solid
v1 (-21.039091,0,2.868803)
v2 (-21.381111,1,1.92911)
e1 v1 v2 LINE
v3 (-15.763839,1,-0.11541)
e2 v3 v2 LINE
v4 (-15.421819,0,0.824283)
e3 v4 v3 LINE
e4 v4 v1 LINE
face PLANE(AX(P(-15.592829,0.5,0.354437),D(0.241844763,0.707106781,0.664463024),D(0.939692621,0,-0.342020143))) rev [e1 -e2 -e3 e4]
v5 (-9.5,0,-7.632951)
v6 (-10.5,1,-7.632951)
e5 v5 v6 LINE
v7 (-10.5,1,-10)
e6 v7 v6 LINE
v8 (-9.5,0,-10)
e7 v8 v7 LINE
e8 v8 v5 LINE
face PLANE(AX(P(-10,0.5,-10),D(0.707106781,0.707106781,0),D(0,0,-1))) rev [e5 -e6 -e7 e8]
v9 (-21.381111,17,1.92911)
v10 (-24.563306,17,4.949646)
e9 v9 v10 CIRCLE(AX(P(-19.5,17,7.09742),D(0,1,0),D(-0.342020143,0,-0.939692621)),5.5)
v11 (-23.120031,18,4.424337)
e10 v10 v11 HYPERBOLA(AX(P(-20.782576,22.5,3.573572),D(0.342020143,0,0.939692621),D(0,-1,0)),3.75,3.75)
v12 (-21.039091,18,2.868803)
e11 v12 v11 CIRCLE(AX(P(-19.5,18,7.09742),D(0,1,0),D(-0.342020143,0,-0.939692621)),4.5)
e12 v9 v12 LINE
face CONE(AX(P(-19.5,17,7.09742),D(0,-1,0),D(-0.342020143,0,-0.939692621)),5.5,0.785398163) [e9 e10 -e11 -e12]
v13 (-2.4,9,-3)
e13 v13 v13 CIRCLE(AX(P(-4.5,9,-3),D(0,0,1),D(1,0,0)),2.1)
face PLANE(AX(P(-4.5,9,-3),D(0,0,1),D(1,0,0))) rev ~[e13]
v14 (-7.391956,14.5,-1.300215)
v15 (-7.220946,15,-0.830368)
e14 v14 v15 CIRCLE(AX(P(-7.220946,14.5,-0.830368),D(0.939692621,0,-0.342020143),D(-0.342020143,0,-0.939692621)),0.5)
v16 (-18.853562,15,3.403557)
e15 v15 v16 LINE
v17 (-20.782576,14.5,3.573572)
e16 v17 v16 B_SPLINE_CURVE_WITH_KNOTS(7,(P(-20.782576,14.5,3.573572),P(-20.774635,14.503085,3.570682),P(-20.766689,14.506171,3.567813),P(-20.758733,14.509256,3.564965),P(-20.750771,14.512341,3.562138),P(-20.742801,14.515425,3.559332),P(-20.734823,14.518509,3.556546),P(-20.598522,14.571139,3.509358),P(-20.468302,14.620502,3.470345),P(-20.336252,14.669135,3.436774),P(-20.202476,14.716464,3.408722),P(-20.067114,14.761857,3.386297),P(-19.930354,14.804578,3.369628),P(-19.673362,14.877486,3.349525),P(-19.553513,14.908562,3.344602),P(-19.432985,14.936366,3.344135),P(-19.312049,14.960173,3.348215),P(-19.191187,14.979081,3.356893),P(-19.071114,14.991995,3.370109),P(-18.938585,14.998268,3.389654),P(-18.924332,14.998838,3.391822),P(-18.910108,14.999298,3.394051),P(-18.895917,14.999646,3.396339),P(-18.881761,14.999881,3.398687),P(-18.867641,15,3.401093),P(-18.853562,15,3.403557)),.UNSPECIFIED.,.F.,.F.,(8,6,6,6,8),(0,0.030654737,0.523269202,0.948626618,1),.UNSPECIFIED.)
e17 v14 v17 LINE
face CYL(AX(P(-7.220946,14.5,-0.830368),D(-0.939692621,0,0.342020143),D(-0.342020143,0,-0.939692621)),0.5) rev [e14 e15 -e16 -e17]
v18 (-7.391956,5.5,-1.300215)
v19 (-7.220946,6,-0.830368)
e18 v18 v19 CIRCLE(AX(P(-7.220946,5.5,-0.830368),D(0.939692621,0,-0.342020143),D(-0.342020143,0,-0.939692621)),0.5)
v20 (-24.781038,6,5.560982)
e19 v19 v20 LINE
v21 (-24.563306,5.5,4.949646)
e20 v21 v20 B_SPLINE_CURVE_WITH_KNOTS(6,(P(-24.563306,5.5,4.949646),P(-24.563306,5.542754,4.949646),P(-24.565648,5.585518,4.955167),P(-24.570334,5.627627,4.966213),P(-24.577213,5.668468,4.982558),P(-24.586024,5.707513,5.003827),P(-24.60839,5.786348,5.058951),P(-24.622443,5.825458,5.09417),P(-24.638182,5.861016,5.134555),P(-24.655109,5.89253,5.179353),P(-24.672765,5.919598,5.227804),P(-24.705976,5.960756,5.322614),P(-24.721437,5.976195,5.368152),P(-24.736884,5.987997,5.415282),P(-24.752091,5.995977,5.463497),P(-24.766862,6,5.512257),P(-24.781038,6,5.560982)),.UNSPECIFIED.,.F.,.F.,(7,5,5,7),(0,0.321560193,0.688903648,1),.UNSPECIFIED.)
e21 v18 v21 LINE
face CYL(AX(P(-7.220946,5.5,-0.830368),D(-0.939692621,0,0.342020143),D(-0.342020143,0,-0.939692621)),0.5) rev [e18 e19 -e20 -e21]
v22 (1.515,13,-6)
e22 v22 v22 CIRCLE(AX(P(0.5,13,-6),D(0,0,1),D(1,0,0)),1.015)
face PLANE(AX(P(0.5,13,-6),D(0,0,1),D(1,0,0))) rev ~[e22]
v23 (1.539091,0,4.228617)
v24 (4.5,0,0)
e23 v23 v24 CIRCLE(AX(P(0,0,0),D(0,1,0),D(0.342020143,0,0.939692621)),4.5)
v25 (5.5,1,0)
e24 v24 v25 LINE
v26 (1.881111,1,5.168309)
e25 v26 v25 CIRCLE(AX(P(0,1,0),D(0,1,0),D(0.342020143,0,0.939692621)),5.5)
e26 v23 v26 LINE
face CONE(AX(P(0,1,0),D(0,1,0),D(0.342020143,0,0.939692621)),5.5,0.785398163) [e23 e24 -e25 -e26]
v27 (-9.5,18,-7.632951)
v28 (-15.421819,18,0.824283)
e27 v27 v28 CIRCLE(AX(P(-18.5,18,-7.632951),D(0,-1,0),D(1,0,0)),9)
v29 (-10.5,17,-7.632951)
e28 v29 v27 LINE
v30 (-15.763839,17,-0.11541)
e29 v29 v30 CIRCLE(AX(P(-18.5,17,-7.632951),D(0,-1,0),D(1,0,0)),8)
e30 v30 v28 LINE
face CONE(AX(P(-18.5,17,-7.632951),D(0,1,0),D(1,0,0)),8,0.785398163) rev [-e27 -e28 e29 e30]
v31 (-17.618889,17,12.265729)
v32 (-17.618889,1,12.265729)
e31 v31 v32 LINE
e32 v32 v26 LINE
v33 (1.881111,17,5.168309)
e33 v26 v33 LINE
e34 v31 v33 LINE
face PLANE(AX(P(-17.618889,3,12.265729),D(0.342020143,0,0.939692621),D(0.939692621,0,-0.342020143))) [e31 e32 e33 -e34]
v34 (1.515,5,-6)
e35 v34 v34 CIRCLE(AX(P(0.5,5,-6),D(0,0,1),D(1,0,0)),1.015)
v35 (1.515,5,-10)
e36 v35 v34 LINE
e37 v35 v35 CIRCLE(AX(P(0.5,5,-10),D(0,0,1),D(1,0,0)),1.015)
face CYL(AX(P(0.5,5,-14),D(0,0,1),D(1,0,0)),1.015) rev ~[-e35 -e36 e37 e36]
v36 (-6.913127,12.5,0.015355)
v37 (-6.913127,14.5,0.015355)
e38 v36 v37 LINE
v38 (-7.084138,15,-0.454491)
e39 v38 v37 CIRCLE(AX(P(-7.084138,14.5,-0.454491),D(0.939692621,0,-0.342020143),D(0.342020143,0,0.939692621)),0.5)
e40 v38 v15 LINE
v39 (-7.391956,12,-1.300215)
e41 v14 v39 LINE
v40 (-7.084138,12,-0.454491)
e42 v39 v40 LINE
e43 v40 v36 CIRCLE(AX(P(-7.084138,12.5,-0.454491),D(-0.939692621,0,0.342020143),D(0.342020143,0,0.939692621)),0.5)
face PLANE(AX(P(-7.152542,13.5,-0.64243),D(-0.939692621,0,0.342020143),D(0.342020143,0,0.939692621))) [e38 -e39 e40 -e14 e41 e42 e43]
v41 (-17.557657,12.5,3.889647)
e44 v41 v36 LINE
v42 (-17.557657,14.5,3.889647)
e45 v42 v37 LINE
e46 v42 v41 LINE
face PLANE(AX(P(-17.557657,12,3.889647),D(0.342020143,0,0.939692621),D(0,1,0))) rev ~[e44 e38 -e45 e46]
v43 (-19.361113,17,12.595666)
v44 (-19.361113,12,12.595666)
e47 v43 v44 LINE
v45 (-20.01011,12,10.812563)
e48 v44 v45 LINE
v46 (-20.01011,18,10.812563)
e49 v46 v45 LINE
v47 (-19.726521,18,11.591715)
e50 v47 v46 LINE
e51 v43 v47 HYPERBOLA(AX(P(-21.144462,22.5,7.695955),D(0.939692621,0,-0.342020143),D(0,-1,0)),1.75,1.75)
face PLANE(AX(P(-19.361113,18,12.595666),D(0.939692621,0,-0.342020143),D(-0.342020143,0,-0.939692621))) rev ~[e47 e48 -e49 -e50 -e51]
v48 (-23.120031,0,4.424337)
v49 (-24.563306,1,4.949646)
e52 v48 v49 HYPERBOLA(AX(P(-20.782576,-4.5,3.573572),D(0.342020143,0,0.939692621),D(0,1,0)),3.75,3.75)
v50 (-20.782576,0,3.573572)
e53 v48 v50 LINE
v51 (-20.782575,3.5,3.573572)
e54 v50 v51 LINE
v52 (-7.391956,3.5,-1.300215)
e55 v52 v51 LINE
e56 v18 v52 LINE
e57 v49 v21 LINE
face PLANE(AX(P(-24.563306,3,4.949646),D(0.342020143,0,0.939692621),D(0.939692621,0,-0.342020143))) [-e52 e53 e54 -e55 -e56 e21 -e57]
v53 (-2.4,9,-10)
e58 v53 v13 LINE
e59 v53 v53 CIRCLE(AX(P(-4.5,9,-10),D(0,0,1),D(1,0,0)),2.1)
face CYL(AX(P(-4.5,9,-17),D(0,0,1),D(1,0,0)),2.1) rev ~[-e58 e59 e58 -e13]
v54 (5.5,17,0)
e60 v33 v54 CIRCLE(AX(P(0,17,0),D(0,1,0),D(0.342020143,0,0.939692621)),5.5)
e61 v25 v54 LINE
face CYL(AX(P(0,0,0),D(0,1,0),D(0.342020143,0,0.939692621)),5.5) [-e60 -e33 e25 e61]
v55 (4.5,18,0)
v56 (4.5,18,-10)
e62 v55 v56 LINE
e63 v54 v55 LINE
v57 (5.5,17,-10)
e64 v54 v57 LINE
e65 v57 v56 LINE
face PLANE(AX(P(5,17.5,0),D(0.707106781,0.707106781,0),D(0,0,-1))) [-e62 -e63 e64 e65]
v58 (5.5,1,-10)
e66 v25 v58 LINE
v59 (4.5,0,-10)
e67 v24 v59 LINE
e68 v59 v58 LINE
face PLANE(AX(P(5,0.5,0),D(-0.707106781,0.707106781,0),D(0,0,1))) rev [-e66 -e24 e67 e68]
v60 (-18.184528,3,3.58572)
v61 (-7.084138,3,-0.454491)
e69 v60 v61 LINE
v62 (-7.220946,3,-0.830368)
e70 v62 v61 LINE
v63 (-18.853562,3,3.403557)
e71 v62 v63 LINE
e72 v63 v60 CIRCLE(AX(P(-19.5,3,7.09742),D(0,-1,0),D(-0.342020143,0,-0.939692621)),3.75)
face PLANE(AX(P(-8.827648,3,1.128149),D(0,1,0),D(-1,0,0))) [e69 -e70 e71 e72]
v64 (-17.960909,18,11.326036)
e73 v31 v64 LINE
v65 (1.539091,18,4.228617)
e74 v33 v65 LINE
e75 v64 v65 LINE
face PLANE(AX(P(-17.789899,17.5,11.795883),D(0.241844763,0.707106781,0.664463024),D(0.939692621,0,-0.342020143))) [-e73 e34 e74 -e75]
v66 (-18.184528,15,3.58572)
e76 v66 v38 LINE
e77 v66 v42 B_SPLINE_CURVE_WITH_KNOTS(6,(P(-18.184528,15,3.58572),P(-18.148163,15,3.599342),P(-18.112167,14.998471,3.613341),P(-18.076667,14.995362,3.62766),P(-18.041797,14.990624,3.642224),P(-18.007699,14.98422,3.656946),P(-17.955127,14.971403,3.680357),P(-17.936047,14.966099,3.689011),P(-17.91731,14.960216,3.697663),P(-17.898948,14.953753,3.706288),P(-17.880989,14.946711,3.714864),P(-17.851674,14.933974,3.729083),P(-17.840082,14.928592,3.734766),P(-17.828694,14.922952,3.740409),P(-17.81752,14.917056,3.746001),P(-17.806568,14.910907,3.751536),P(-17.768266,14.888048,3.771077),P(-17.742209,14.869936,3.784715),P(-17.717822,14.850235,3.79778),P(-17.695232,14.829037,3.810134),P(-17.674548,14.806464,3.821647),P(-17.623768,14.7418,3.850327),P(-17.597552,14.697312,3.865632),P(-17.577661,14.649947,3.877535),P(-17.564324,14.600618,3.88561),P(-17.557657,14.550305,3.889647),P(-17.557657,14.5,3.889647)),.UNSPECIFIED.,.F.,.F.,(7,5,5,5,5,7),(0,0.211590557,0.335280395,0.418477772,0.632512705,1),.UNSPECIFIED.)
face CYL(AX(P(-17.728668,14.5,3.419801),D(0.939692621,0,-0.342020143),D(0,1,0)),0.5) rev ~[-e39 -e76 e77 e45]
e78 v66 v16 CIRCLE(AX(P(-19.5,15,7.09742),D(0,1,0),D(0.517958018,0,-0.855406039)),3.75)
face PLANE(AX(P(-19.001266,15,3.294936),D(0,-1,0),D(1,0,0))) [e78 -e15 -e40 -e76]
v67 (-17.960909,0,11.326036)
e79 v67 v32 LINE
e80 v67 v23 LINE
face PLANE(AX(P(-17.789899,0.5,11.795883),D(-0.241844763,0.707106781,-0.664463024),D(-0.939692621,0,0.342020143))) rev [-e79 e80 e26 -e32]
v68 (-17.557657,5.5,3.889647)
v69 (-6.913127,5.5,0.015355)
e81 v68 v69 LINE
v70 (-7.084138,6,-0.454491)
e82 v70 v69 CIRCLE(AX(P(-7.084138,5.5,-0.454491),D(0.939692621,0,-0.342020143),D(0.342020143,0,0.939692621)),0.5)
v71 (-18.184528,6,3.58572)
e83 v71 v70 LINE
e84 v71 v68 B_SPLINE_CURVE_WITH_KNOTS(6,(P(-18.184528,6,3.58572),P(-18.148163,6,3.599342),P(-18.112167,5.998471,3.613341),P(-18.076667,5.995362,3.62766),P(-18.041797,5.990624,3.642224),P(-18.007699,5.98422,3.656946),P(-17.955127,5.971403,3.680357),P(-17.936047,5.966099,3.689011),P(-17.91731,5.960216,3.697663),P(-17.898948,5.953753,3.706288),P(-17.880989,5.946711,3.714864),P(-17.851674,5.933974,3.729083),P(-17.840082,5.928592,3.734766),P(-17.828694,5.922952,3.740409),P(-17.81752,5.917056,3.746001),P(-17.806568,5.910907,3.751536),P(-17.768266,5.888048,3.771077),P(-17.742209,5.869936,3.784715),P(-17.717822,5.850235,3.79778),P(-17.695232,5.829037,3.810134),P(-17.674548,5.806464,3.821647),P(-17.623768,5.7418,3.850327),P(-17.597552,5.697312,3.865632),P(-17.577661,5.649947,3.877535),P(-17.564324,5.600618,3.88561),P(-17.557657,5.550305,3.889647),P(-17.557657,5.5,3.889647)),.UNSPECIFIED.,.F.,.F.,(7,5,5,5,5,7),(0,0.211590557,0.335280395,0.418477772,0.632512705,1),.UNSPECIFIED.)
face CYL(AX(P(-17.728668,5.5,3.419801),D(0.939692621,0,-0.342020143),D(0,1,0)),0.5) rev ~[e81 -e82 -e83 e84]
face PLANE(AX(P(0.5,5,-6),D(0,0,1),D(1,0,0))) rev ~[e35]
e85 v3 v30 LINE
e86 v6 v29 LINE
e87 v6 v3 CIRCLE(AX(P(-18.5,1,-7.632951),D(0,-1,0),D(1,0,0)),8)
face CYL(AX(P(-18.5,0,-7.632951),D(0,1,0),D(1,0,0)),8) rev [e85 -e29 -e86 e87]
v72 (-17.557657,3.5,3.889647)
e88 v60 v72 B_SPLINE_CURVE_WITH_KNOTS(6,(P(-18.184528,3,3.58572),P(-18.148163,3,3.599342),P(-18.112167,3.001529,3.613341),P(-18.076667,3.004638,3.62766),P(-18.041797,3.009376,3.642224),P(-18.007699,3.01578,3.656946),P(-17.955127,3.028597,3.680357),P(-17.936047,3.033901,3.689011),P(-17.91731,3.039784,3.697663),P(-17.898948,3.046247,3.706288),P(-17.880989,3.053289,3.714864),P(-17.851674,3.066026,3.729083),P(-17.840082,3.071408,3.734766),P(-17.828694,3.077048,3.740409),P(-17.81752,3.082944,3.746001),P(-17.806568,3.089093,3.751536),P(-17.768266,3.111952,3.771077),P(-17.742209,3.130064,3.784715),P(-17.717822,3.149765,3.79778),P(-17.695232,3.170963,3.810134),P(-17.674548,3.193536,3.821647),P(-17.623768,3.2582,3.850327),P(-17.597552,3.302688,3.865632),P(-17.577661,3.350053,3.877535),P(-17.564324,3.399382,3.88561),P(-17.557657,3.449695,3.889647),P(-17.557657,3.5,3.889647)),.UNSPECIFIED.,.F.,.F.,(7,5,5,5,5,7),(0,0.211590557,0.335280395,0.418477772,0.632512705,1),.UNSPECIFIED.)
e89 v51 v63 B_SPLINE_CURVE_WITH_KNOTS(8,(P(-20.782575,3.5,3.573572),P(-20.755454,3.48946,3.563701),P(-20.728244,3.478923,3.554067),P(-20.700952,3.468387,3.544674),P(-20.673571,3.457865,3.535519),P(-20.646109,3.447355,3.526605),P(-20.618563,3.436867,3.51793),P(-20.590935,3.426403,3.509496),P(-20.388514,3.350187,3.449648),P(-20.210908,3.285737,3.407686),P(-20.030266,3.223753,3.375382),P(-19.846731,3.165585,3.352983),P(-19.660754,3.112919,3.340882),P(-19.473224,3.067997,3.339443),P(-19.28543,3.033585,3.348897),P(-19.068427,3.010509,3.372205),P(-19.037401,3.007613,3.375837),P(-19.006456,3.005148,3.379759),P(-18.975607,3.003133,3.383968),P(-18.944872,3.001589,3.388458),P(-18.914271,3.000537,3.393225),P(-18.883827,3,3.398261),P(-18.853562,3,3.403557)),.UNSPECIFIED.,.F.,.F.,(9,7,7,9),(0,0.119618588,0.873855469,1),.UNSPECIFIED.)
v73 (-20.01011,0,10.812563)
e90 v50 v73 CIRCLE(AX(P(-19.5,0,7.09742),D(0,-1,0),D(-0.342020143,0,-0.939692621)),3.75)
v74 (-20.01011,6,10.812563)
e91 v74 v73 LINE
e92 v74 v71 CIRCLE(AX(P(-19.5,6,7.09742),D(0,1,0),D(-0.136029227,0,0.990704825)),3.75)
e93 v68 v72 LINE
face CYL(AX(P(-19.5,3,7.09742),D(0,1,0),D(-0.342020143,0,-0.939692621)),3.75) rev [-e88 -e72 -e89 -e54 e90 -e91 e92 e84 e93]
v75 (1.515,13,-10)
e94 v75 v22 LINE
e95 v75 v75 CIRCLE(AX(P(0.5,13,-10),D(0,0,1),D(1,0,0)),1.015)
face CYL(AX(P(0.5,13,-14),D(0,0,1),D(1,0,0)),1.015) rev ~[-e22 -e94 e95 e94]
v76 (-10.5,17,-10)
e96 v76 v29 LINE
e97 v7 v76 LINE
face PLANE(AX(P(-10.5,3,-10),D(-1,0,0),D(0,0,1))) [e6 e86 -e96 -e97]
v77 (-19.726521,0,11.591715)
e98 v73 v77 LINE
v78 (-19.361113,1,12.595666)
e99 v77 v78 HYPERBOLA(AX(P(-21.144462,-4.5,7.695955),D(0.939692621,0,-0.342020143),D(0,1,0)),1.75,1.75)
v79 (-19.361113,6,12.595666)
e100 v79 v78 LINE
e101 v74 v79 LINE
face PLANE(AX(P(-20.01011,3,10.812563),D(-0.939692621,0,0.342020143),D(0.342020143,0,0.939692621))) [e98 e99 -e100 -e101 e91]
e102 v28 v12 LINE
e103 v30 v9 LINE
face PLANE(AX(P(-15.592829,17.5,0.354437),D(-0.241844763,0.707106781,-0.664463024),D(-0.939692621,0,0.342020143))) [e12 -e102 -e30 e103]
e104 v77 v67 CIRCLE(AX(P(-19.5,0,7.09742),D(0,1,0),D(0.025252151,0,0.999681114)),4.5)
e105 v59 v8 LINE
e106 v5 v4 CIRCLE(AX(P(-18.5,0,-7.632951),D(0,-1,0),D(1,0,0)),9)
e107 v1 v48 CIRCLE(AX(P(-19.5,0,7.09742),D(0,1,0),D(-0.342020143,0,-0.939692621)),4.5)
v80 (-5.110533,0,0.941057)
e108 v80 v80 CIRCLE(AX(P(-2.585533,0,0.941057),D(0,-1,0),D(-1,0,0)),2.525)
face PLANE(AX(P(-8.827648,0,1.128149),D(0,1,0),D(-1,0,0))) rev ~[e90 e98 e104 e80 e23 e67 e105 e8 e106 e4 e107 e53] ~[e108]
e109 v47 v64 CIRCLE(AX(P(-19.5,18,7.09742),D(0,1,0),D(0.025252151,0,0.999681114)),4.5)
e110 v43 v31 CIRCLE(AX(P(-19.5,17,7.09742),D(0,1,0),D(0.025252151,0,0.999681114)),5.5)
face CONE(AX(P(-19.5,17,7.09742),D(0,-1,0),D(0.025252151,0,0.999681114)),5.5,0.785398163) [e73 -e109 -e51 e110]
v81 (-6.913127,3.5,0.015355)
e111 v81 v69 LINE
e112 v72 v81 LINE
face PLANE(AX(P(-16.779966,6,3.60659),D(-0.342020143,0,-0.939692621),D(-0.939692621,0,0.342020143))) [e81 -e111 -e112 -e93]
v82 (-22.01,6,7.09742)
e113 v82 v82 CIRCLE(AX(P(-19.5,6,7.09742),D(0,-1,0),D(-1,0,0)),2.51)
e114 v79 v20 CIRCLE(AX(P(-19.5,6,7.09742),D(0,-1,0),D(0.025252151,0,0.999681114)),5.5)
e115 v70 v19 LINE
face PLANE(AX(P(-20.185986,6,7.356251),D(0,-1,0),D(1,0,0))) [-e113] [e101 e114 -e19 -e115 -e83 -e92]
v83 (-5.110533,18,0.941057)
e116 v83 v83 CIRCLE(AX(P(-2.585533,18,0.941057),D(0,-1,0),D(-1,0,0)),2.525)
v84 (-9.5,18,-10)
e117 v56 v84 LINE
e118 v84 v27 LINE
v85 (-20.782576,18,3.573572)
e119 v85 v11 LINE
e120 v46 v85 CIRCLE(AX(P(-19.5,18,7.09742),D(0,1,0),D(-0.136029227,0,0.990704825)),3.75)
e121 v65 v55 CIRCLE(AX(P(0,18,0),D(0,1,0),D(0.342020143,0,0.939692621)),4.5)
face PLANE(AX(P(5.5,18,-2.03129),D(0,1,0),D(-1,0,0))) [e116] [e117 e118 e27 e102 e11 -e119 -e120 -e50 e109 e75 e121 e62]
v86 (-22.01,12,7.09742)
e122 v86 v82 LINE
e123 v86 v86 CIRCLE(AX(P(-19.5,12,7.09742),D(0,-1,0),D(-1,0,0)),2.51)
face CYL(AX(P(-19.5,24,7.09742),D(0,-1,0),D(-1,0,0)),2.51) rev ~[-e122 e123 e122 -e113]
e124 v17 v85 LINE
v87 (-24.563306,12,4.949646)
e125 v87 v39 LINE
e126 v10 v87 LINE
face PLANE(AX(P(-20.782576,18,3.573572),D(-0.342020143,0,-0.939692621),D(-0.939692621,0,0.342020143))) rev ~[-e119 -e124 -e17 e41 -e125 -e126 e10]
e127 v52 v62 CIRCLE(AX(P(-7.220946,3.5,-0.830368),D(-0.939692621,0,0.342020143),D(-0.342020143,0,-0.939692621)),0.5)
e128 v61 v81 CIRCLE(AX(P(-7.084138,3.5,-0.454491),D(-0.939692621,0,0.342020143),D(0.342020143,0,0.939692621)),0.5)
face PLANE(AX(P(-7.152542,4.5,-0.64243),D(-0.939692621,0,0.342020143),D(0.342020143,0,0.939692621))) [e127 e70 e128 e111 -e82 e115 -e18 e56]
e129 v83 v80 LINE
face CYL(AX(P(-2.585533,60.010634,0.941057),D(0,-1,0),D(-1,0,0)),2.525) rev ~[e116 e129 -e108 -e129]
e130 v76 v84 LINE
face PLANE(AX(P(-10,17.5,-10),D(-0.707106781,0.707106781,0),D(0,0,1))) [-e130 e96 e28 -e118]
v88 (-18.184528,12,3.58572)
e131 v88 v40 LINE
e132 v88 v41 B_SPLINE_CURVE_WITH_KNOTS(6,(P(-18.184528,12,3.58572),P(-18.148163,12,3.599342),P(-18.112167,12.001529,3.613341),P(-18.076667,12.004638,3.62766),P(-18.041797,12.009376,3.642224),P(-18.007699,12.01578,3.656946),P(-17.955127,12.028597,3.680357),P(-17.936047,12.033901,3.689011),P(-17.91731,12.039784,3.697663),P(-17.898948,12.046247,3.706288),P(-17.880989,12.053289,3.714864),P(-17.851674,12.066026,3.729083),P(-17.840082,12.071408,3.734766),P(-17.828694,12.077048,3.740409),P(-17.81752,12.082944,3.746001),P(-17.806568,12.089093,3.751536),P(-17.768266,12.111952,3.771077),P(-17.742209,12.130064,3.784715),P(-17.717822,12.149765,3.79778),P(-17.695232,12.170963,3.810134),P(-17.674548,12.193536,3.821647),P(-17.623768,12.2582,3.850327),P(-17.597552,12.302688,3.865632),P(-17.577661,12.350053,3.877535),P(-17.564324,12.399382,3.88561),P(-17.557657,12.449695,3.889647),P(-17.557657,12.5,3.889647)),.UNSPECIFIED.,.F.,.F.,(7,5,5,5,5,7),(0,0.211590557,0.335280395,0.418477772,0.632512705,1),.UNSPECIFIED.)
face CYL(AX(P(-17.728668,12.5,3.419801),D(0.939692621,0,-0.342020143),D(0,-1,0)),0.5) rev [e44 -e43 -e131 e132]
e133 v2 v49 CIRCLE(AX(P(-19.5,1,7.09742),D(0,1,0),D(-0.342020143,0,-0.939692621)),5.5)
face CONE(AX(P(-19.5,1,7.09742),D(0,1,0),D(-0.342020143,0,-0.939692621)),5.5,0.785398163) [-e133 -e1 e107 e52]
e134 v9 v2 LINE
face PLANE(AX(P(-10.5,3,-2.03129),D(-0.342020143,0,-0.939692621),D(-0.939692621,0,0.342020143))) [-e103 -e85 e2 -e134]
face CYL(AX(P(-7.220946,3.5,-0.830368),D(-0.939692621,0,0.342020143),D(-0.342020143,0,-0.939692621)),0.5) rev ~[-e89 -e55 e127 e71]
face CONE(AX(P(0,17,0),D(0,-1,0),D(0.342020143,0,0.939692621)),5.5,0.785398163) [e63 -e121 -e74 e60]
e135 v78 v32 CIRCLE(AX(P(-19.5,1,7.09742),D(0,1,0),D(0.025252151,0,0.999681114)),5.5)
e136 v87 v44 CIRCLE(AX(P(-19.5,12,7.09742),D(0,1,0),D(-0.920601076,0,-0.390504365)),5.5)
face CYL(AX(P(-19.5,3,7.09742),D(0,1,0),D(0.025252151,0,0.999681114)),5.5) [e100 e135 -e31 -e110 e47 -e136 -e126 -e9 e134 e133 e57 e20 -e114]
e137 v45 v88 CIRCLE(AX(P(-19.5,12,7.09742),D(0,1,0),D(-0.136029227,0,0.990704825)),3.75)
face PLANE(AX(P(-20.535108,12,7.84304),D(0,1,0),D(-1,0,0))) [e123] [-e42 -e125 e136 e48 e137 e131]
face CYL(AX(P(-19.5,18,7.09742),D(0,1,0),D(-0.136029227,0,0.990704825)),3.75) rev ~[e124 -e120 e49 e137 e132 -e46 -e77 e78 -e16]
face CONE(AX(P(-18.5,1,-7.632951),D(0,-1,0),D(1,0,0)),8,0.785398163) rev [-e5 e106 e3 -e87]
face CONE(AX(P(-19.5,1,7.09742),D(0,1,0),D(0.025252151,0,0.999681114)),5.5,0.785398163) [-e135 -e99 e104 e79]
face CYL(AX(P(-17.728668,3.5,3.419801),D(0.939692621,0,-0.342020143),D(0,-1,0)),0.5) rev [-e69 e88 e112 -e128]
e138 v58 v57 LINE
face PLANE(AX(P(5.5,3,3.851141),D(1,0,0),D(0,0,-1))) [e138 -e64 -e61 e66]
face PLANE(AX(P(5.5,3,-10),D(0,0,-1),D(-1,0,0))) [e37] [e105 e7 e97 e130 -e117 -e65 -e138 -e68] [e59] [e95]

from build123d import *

# Parameters (mm, degrees)
EXTRUDE_1_DEPTH     = 14.999999999999998
CUT_EXTRUDE_1_DEPTH = 32.759958749611776
CUT_EXTRUDE_2_DEPTH = 5.999999999999998
CUT_EXTRUDE_START   = -2.9999999999999996
CUT_EXTRUDE_3_DEPTH = 2.9999999999999996
CUT_EXTRUDE_START_2 = -3.0000000000000004
CUT_EXTRUDE_4_DEPTH = 3.0000000000000004
CUT_EXTRUDE_5_DEPTH = 10.50007039461797
CUT_EXTRUDE_6_DEPTH = 11.327672160759418
EXTRUDE_2_DEPTH     = 7.968709711177614
EXTRUDE_3_DEPTH     = 3.000000000000002
HOLE_WIZARD_1_D     = 4.2
HOLE_WIZARD_1_DEPTH = 7
HOLE_WIZARD_2_D     = 2.03
HOLE_WIZARD_2_DEPTH = 4
HOLE_WIZARD_3_D     = 2.03
HOLE_WIZARD_3_DEPTH = 4
HOLE_WIZARD_4_D     = 5.05
HOLE_WIZARD_5_D     = 5.02
HOLE_WIZARD_5_DEPTH = 12
FILLET_1_R          = 5.500000000000002
FILLET_2_R          = 8
CHAMFER_1_SIZE      = 0.9999999999999993
FILLET_3_R          = 0.5


with BuildPart() as part:
    # 草图1 → 凸台-拉伸1 (new body)
    with BuildSketch(Plane(origin=(0, 18, 0), x_dir=(1, 0, 0), z_dir=(0, 1, 0))):
        with BuildLine():
            Line((-17.618889211708797, -12.26572898251346), (21.661848401793918, 2.0312902888225244))
            Line((21.661848401793918, 2.0312902888225244), (-10.5, 2.0312902888223876))
            Line((-10.5, 2.0312902888223876), (-21.381110788291235, -1.9291101538684705))
            ThreePointArc((-21.381110788291235, -1.9291101538684705), (-24.668309414322497, -8.978530356482176), (-17.618889211708797, -12.26572898251346))
        make_face()
    extrude(amount=-EXTRUDE_1_DEPTH)

    # 草图2 → 切除-拉伸1 (cut, through all)
    with BuildSketch(Plane(origin=(0, 18, 0), x_dir=(-1, 0, 0), z_dir=(0, 1, 0))):
        Polygon((-21.66184840179392, -2.0312902888223894), (-5.5000000000000036, -2.0312902888223876), (-5.500000000000005, 3.8511414601534057), align=None)
    extrude(amount=-CUT_EXTRUDE_1_DEPTH, mode=Mode.SUBTRACT)

    # 草图3 → 切除-拉伸2 (cut)
    with BuildSketch(Plane(origin=(0, 18, 0), x_dir=(-1, 0, 0), z_dir=(0, 1, 0))):
        with BuildLine():
            Line((20.78257553747125, 3.5735722402438013), (24.563305918164147, 4.949645562601932))
            ThreePointArc((24.563305918164147, 4.949645562601932), (24.047293898775088, 10.191303567012326), (19.3611131717343, 12.59566569299606))
            Line((19.3611131717343, 12.59566569299606), (20.01010960022055, 10.812562660423456))
            ThreePointArc((20.01010960022055, 10.812562660423456), (15.771169677152303, 6.6995195513380725), (20.78257553747125, 3.5735722402438013))
        make_face()
    extrude(amount=-CUT_EXTRUDE_2_DEPTH, mode=Mode.SUBTRACT)

    # 草图4 → 切除-拉伸3 (cut)
    with BuildSketch(Plane.XZ.offset(-12).offset(CUT_EXTRUDE_START)):
        with BuildLine():
            Line((-20.78257553747125, 3.573572240243805), (-18.036485631419698, 2.5740772538221752))
            Line((-18.036485631419698, 2.5740772538221752), (-17.557657430763733, 3.889646922922488))
            ThreePointArc((-17.557657430763733, 3.889646922922488), (-19.134214632183554, 3.365302064053206), (-20.78257553747125, 3.573572240243805))
        make_face()
    extrude(amount=CUT_EXTRUDE_3_DEPTH, mode=Mode.SUBTRACT)

    # 草图5 → 切除-拉伸4 (cut)
    with BuildSketch(Plane.XZ.offset(-3.000000000000001).offset(CUT_EXTRUDE_START_2)):
        with BuildLine():
            Line((-17.258794358827192, 2.29102077914986), (-16.779966158171227, 3.606590448250214))
            Line((-16.779966158171227, 3.606590448250214), (-17.557657430763737, 3.8896469229224904))
            ThreePointArc((-17.557657430763737, 3.8896469229224904), (-15.965242102135065, 8.349612286378331), (-20.01010960022055, 10.81256266042346))
            Line((-20.01010960022055, 10.81256266042346), (-19.3611131717343, 12.59566569299606))
            ThreePointArc((-19.3611131717343, 12.59566569299606), (-24.04729389877508, 10.191303567012337), (-24.56330591816415, 4.94964556260195))
            Line((-24.56330591816415, 4.94964556260195), (-17.258794358827192, 2.29102077914986))
        make_face()
    extrude(amount=CUT_EXTRUDE_4_DEPTH, mode=Mode.SUBTRACT)

    # 草图6 → 切除-拉伸5 (cut)
    with BuildSketch(Plane(origin=(-15.97621882135595, 0, 5.8148681070970145), x_dir=(0.3420201433256677, 0, 0.9396926207859088), z_dir=(-0.9396926207859089, 0, 0.3420201433256677))):
        Polygon((-2.3499999999999055, 3), (-2.349999999999906, 6), (-3.7499999999999933, 6), (-3.749999999999994, 3), align=None)
    extrude(amount=-CUT_EXTRUDE_5_DEPTH, mode=Mode.SUBTRACT)

    # 草图7 → 切除-拉伸6 (cut)
    with BuildSketch(Plane(origin=(-16.753910093948367, 0, 6.097924581769449), x_dir=(0.3420201433256676, 0, 0.9396926207859088), z_dir=(-0.9396926207859088, 0, 0.3420201433256676))):
        Polygon((-3.749999999999993, 12), (-2.3499999999999055, 12), (-2.3499999999999055, 15), (-3.7499999999999933, 15), align=None)
    extrude(amount=-CUT_EXTRUDE_6_DEPTH, mode=Mode.SUBTRACT)

    # 草图8 → 凸台-拉伸2 (add)
    with BuildSketch(Plane(origin=(-8.63e-15, 0, -2.0312902888224325), x_dir=(-1, 0, 5e-17), z_dir=(-5e-17, 0, -1))):
        Polygon((-5.5, 3), (-5.500000000000001, 18), (10.5, 18), (10.5, 3), align=None)
    extrude(amount=EXTRUDE_2_DEPTH)

    # 草图9 → 凸台-拉伸3 (add)
    with BuildSketch(Plane.XZ.offset(-3.000000000000001)):
        with BuildLine():
            Line((-17.618889211708797, 12.26572898251346), (5.499999999999998, 3.8511414601533294))
            Line((5.499999999999998, 3.8511414601533294), (5.5, -10))
            Line((5.5, -10), (-10.5, -10.000000000000002))
            Line((-10.5, -10.000000000000002), (-10.500000000000014, -2.0312902888224262))
            Line((-10.500000000000014, -2.0312902888224262), (-21.381110788291203, 1.9291101538684652))
            ThreePointArc((-21.381110788291203, 1.9291101538684652), (-23.286441520356178, 3.1083268627098155), (-24.563305918164144, 4.94964556260193))
            Line((-24.563305918164144, 4.94964556260193), (-20.78257553747125, 3.573572240243805))
            ThreePointArc((-20.78257553747125, 3.573572240243805), (-15.771169677152304, 6.699519551338072), (-20.01010960022055, 10.81256266042346))
            Line((-20.01010960022055, 10.81256266042346), (-19.361113171734285, 12.595665692996059))
            ThreePointArc((-19.361113171734285, 12.595665692996059), (-18.476617299855562, 12.50137070130135), (-17.618889211708797, 12.26572898251346))
        make_face()
    extrude(amount=EXTRUDE_3_DEPTH)

    # 孔1
    with Locations(Plane(origin=(-5.4e-16, 0, -10.000000000000046), x_dir=(-1, 0, 5e-17), z_dir=(-5e-17, 0, -1))):
        with Locations((4.5, 9)):
            Hole(HOLE_WIZARD_1_D / 2, depth=HOLE_WIZARD_1_DEPTH)

    # 孔2
    with Locations(Plane(origin=(-5.4e-16, 0, -10.000000000000046), x_dir=(-1, 0, 5e-17), z_dir=(-5e-17, 0, -1))):
        with Locations((-0.5, 13)):
            Hole(HOLE_WIZARD_2_D / 2, depth=HOLE_WIZARD_2_DEPTH)

    # 孔3
    with Locations(Plane(origin=(-5.4e-16, 0, -10.000000000000046), x_dir=(-1, 0, 5e-17), z_dir=(-5e-17, 0, -1))):
        with Locations((-0.5, 5)):
            Hole(HOLE_WIZARD_3_D / 2, depth=HOLE_WIZARD_3_DEPTH)

    # 孔4 (through all)
    with Locations(Plane(origin=(0, 18, 0), x_dir=(1, 0, 0), z_dir=(0, 1, 0))):
        with Locations((-2.585532826, -0.941056988)):
            Hole(HOLE_WIZARD_4_D / 2)

    # 孔5
    with Locations(Plane(origin=(0, 12, 0), x_dir=(1, 0, 0), z_dir=(0, 1, 0))):
        with Locations((-19.5, -7.097419568)):
            Hole(HOLE_WIZARD_5_D / 2, depth=HOLE_WIZARD_5_DEPTH)

    # 圆角1
    fillet_1_edges = [part.edges().sort_by_distance(p)[0] for p in [
        (5.500000000000002, 8.999999999999998, 3.8511414601533676),
    ]]
    fillet(fillet_1_edges, radius=FILLET_1_R)

    # 圆角2
    fillet_2_edges = [part.edges().sort_by_distance(p)[0] for p in [
        (-10.50000000000001, 9, -2.031290288822418),
    ]]
    fillet(fillet_2_edges, radius=FILLET_2_R)

    # 倒角1
    chamfer_1_edges = [part.edges().sort_by_distance(p)[0] for p in [
        (-18.47661729985556, -1.33e-15, 12.50137070130135),
        (-23.286441520356178, -1.33e-15, 3.108326862709817),
        (-18.572474820842935, -1.33e-15, 0.9068502628278257),
        (5.499999999999999, -1.33e-15, -5.000000000000032),
        (-7.868889211708797, -1.33e-15, 8.717019198417944),
        (4.505336243589472, 17.999999999999986, 3.15467039993076),
        (4.505336243589466, -1.65e-14, 3.154670399930683),
        (-10.500000000000002, -1.33e-15, -8.816475297250042),
        (-18.57247482084295, 18, 0.9068502628278368),
        (-11.946783645688074, 17.999999999999993, -3.044339103691696),
        (-11.946783645688082, -7.42e-15, -3.0443391036917093),
        (5.4999999999999964, 18, -5.000000000000016),
        (-18.476617299855565, 18, 12.501370701301362),
        (-7.868889211708806, 18, 8.717019198417947),
        (-23.286441520356195, 18, 3.1083268627098226),
        (-10.500000000000009, 18, -8.816475297250054),
    ]]
    chamfer(chamfer_1_edges, length=CHAMFER_1_SIZE)

    # 圆角3
    fillet_3_edges = [part.edges().sort_by_distance(p)[0] for p in [
        (-14.087265614371681, 3.0000000000000004, 1.1366787190484136),
        (-14.087265614371635, 15, 1.1366787190484962),
        (-15.977630804718132, 6.000000000000001, 1.8247153802274876),
        (-12.23539246068994, 6.000000000000001, 1.9525008949379346),
        (-12.23539246068994, 3.0000000000000004, 1.9525008949379348),
        (-12.235392460689857, 15, 1.952500894938097),
        (-12.235392460689857, 12, 1.952500894938097),
    ]]
    fillet(fillet_3_edges, radius=FILLET_3_R)


solid = part.part
